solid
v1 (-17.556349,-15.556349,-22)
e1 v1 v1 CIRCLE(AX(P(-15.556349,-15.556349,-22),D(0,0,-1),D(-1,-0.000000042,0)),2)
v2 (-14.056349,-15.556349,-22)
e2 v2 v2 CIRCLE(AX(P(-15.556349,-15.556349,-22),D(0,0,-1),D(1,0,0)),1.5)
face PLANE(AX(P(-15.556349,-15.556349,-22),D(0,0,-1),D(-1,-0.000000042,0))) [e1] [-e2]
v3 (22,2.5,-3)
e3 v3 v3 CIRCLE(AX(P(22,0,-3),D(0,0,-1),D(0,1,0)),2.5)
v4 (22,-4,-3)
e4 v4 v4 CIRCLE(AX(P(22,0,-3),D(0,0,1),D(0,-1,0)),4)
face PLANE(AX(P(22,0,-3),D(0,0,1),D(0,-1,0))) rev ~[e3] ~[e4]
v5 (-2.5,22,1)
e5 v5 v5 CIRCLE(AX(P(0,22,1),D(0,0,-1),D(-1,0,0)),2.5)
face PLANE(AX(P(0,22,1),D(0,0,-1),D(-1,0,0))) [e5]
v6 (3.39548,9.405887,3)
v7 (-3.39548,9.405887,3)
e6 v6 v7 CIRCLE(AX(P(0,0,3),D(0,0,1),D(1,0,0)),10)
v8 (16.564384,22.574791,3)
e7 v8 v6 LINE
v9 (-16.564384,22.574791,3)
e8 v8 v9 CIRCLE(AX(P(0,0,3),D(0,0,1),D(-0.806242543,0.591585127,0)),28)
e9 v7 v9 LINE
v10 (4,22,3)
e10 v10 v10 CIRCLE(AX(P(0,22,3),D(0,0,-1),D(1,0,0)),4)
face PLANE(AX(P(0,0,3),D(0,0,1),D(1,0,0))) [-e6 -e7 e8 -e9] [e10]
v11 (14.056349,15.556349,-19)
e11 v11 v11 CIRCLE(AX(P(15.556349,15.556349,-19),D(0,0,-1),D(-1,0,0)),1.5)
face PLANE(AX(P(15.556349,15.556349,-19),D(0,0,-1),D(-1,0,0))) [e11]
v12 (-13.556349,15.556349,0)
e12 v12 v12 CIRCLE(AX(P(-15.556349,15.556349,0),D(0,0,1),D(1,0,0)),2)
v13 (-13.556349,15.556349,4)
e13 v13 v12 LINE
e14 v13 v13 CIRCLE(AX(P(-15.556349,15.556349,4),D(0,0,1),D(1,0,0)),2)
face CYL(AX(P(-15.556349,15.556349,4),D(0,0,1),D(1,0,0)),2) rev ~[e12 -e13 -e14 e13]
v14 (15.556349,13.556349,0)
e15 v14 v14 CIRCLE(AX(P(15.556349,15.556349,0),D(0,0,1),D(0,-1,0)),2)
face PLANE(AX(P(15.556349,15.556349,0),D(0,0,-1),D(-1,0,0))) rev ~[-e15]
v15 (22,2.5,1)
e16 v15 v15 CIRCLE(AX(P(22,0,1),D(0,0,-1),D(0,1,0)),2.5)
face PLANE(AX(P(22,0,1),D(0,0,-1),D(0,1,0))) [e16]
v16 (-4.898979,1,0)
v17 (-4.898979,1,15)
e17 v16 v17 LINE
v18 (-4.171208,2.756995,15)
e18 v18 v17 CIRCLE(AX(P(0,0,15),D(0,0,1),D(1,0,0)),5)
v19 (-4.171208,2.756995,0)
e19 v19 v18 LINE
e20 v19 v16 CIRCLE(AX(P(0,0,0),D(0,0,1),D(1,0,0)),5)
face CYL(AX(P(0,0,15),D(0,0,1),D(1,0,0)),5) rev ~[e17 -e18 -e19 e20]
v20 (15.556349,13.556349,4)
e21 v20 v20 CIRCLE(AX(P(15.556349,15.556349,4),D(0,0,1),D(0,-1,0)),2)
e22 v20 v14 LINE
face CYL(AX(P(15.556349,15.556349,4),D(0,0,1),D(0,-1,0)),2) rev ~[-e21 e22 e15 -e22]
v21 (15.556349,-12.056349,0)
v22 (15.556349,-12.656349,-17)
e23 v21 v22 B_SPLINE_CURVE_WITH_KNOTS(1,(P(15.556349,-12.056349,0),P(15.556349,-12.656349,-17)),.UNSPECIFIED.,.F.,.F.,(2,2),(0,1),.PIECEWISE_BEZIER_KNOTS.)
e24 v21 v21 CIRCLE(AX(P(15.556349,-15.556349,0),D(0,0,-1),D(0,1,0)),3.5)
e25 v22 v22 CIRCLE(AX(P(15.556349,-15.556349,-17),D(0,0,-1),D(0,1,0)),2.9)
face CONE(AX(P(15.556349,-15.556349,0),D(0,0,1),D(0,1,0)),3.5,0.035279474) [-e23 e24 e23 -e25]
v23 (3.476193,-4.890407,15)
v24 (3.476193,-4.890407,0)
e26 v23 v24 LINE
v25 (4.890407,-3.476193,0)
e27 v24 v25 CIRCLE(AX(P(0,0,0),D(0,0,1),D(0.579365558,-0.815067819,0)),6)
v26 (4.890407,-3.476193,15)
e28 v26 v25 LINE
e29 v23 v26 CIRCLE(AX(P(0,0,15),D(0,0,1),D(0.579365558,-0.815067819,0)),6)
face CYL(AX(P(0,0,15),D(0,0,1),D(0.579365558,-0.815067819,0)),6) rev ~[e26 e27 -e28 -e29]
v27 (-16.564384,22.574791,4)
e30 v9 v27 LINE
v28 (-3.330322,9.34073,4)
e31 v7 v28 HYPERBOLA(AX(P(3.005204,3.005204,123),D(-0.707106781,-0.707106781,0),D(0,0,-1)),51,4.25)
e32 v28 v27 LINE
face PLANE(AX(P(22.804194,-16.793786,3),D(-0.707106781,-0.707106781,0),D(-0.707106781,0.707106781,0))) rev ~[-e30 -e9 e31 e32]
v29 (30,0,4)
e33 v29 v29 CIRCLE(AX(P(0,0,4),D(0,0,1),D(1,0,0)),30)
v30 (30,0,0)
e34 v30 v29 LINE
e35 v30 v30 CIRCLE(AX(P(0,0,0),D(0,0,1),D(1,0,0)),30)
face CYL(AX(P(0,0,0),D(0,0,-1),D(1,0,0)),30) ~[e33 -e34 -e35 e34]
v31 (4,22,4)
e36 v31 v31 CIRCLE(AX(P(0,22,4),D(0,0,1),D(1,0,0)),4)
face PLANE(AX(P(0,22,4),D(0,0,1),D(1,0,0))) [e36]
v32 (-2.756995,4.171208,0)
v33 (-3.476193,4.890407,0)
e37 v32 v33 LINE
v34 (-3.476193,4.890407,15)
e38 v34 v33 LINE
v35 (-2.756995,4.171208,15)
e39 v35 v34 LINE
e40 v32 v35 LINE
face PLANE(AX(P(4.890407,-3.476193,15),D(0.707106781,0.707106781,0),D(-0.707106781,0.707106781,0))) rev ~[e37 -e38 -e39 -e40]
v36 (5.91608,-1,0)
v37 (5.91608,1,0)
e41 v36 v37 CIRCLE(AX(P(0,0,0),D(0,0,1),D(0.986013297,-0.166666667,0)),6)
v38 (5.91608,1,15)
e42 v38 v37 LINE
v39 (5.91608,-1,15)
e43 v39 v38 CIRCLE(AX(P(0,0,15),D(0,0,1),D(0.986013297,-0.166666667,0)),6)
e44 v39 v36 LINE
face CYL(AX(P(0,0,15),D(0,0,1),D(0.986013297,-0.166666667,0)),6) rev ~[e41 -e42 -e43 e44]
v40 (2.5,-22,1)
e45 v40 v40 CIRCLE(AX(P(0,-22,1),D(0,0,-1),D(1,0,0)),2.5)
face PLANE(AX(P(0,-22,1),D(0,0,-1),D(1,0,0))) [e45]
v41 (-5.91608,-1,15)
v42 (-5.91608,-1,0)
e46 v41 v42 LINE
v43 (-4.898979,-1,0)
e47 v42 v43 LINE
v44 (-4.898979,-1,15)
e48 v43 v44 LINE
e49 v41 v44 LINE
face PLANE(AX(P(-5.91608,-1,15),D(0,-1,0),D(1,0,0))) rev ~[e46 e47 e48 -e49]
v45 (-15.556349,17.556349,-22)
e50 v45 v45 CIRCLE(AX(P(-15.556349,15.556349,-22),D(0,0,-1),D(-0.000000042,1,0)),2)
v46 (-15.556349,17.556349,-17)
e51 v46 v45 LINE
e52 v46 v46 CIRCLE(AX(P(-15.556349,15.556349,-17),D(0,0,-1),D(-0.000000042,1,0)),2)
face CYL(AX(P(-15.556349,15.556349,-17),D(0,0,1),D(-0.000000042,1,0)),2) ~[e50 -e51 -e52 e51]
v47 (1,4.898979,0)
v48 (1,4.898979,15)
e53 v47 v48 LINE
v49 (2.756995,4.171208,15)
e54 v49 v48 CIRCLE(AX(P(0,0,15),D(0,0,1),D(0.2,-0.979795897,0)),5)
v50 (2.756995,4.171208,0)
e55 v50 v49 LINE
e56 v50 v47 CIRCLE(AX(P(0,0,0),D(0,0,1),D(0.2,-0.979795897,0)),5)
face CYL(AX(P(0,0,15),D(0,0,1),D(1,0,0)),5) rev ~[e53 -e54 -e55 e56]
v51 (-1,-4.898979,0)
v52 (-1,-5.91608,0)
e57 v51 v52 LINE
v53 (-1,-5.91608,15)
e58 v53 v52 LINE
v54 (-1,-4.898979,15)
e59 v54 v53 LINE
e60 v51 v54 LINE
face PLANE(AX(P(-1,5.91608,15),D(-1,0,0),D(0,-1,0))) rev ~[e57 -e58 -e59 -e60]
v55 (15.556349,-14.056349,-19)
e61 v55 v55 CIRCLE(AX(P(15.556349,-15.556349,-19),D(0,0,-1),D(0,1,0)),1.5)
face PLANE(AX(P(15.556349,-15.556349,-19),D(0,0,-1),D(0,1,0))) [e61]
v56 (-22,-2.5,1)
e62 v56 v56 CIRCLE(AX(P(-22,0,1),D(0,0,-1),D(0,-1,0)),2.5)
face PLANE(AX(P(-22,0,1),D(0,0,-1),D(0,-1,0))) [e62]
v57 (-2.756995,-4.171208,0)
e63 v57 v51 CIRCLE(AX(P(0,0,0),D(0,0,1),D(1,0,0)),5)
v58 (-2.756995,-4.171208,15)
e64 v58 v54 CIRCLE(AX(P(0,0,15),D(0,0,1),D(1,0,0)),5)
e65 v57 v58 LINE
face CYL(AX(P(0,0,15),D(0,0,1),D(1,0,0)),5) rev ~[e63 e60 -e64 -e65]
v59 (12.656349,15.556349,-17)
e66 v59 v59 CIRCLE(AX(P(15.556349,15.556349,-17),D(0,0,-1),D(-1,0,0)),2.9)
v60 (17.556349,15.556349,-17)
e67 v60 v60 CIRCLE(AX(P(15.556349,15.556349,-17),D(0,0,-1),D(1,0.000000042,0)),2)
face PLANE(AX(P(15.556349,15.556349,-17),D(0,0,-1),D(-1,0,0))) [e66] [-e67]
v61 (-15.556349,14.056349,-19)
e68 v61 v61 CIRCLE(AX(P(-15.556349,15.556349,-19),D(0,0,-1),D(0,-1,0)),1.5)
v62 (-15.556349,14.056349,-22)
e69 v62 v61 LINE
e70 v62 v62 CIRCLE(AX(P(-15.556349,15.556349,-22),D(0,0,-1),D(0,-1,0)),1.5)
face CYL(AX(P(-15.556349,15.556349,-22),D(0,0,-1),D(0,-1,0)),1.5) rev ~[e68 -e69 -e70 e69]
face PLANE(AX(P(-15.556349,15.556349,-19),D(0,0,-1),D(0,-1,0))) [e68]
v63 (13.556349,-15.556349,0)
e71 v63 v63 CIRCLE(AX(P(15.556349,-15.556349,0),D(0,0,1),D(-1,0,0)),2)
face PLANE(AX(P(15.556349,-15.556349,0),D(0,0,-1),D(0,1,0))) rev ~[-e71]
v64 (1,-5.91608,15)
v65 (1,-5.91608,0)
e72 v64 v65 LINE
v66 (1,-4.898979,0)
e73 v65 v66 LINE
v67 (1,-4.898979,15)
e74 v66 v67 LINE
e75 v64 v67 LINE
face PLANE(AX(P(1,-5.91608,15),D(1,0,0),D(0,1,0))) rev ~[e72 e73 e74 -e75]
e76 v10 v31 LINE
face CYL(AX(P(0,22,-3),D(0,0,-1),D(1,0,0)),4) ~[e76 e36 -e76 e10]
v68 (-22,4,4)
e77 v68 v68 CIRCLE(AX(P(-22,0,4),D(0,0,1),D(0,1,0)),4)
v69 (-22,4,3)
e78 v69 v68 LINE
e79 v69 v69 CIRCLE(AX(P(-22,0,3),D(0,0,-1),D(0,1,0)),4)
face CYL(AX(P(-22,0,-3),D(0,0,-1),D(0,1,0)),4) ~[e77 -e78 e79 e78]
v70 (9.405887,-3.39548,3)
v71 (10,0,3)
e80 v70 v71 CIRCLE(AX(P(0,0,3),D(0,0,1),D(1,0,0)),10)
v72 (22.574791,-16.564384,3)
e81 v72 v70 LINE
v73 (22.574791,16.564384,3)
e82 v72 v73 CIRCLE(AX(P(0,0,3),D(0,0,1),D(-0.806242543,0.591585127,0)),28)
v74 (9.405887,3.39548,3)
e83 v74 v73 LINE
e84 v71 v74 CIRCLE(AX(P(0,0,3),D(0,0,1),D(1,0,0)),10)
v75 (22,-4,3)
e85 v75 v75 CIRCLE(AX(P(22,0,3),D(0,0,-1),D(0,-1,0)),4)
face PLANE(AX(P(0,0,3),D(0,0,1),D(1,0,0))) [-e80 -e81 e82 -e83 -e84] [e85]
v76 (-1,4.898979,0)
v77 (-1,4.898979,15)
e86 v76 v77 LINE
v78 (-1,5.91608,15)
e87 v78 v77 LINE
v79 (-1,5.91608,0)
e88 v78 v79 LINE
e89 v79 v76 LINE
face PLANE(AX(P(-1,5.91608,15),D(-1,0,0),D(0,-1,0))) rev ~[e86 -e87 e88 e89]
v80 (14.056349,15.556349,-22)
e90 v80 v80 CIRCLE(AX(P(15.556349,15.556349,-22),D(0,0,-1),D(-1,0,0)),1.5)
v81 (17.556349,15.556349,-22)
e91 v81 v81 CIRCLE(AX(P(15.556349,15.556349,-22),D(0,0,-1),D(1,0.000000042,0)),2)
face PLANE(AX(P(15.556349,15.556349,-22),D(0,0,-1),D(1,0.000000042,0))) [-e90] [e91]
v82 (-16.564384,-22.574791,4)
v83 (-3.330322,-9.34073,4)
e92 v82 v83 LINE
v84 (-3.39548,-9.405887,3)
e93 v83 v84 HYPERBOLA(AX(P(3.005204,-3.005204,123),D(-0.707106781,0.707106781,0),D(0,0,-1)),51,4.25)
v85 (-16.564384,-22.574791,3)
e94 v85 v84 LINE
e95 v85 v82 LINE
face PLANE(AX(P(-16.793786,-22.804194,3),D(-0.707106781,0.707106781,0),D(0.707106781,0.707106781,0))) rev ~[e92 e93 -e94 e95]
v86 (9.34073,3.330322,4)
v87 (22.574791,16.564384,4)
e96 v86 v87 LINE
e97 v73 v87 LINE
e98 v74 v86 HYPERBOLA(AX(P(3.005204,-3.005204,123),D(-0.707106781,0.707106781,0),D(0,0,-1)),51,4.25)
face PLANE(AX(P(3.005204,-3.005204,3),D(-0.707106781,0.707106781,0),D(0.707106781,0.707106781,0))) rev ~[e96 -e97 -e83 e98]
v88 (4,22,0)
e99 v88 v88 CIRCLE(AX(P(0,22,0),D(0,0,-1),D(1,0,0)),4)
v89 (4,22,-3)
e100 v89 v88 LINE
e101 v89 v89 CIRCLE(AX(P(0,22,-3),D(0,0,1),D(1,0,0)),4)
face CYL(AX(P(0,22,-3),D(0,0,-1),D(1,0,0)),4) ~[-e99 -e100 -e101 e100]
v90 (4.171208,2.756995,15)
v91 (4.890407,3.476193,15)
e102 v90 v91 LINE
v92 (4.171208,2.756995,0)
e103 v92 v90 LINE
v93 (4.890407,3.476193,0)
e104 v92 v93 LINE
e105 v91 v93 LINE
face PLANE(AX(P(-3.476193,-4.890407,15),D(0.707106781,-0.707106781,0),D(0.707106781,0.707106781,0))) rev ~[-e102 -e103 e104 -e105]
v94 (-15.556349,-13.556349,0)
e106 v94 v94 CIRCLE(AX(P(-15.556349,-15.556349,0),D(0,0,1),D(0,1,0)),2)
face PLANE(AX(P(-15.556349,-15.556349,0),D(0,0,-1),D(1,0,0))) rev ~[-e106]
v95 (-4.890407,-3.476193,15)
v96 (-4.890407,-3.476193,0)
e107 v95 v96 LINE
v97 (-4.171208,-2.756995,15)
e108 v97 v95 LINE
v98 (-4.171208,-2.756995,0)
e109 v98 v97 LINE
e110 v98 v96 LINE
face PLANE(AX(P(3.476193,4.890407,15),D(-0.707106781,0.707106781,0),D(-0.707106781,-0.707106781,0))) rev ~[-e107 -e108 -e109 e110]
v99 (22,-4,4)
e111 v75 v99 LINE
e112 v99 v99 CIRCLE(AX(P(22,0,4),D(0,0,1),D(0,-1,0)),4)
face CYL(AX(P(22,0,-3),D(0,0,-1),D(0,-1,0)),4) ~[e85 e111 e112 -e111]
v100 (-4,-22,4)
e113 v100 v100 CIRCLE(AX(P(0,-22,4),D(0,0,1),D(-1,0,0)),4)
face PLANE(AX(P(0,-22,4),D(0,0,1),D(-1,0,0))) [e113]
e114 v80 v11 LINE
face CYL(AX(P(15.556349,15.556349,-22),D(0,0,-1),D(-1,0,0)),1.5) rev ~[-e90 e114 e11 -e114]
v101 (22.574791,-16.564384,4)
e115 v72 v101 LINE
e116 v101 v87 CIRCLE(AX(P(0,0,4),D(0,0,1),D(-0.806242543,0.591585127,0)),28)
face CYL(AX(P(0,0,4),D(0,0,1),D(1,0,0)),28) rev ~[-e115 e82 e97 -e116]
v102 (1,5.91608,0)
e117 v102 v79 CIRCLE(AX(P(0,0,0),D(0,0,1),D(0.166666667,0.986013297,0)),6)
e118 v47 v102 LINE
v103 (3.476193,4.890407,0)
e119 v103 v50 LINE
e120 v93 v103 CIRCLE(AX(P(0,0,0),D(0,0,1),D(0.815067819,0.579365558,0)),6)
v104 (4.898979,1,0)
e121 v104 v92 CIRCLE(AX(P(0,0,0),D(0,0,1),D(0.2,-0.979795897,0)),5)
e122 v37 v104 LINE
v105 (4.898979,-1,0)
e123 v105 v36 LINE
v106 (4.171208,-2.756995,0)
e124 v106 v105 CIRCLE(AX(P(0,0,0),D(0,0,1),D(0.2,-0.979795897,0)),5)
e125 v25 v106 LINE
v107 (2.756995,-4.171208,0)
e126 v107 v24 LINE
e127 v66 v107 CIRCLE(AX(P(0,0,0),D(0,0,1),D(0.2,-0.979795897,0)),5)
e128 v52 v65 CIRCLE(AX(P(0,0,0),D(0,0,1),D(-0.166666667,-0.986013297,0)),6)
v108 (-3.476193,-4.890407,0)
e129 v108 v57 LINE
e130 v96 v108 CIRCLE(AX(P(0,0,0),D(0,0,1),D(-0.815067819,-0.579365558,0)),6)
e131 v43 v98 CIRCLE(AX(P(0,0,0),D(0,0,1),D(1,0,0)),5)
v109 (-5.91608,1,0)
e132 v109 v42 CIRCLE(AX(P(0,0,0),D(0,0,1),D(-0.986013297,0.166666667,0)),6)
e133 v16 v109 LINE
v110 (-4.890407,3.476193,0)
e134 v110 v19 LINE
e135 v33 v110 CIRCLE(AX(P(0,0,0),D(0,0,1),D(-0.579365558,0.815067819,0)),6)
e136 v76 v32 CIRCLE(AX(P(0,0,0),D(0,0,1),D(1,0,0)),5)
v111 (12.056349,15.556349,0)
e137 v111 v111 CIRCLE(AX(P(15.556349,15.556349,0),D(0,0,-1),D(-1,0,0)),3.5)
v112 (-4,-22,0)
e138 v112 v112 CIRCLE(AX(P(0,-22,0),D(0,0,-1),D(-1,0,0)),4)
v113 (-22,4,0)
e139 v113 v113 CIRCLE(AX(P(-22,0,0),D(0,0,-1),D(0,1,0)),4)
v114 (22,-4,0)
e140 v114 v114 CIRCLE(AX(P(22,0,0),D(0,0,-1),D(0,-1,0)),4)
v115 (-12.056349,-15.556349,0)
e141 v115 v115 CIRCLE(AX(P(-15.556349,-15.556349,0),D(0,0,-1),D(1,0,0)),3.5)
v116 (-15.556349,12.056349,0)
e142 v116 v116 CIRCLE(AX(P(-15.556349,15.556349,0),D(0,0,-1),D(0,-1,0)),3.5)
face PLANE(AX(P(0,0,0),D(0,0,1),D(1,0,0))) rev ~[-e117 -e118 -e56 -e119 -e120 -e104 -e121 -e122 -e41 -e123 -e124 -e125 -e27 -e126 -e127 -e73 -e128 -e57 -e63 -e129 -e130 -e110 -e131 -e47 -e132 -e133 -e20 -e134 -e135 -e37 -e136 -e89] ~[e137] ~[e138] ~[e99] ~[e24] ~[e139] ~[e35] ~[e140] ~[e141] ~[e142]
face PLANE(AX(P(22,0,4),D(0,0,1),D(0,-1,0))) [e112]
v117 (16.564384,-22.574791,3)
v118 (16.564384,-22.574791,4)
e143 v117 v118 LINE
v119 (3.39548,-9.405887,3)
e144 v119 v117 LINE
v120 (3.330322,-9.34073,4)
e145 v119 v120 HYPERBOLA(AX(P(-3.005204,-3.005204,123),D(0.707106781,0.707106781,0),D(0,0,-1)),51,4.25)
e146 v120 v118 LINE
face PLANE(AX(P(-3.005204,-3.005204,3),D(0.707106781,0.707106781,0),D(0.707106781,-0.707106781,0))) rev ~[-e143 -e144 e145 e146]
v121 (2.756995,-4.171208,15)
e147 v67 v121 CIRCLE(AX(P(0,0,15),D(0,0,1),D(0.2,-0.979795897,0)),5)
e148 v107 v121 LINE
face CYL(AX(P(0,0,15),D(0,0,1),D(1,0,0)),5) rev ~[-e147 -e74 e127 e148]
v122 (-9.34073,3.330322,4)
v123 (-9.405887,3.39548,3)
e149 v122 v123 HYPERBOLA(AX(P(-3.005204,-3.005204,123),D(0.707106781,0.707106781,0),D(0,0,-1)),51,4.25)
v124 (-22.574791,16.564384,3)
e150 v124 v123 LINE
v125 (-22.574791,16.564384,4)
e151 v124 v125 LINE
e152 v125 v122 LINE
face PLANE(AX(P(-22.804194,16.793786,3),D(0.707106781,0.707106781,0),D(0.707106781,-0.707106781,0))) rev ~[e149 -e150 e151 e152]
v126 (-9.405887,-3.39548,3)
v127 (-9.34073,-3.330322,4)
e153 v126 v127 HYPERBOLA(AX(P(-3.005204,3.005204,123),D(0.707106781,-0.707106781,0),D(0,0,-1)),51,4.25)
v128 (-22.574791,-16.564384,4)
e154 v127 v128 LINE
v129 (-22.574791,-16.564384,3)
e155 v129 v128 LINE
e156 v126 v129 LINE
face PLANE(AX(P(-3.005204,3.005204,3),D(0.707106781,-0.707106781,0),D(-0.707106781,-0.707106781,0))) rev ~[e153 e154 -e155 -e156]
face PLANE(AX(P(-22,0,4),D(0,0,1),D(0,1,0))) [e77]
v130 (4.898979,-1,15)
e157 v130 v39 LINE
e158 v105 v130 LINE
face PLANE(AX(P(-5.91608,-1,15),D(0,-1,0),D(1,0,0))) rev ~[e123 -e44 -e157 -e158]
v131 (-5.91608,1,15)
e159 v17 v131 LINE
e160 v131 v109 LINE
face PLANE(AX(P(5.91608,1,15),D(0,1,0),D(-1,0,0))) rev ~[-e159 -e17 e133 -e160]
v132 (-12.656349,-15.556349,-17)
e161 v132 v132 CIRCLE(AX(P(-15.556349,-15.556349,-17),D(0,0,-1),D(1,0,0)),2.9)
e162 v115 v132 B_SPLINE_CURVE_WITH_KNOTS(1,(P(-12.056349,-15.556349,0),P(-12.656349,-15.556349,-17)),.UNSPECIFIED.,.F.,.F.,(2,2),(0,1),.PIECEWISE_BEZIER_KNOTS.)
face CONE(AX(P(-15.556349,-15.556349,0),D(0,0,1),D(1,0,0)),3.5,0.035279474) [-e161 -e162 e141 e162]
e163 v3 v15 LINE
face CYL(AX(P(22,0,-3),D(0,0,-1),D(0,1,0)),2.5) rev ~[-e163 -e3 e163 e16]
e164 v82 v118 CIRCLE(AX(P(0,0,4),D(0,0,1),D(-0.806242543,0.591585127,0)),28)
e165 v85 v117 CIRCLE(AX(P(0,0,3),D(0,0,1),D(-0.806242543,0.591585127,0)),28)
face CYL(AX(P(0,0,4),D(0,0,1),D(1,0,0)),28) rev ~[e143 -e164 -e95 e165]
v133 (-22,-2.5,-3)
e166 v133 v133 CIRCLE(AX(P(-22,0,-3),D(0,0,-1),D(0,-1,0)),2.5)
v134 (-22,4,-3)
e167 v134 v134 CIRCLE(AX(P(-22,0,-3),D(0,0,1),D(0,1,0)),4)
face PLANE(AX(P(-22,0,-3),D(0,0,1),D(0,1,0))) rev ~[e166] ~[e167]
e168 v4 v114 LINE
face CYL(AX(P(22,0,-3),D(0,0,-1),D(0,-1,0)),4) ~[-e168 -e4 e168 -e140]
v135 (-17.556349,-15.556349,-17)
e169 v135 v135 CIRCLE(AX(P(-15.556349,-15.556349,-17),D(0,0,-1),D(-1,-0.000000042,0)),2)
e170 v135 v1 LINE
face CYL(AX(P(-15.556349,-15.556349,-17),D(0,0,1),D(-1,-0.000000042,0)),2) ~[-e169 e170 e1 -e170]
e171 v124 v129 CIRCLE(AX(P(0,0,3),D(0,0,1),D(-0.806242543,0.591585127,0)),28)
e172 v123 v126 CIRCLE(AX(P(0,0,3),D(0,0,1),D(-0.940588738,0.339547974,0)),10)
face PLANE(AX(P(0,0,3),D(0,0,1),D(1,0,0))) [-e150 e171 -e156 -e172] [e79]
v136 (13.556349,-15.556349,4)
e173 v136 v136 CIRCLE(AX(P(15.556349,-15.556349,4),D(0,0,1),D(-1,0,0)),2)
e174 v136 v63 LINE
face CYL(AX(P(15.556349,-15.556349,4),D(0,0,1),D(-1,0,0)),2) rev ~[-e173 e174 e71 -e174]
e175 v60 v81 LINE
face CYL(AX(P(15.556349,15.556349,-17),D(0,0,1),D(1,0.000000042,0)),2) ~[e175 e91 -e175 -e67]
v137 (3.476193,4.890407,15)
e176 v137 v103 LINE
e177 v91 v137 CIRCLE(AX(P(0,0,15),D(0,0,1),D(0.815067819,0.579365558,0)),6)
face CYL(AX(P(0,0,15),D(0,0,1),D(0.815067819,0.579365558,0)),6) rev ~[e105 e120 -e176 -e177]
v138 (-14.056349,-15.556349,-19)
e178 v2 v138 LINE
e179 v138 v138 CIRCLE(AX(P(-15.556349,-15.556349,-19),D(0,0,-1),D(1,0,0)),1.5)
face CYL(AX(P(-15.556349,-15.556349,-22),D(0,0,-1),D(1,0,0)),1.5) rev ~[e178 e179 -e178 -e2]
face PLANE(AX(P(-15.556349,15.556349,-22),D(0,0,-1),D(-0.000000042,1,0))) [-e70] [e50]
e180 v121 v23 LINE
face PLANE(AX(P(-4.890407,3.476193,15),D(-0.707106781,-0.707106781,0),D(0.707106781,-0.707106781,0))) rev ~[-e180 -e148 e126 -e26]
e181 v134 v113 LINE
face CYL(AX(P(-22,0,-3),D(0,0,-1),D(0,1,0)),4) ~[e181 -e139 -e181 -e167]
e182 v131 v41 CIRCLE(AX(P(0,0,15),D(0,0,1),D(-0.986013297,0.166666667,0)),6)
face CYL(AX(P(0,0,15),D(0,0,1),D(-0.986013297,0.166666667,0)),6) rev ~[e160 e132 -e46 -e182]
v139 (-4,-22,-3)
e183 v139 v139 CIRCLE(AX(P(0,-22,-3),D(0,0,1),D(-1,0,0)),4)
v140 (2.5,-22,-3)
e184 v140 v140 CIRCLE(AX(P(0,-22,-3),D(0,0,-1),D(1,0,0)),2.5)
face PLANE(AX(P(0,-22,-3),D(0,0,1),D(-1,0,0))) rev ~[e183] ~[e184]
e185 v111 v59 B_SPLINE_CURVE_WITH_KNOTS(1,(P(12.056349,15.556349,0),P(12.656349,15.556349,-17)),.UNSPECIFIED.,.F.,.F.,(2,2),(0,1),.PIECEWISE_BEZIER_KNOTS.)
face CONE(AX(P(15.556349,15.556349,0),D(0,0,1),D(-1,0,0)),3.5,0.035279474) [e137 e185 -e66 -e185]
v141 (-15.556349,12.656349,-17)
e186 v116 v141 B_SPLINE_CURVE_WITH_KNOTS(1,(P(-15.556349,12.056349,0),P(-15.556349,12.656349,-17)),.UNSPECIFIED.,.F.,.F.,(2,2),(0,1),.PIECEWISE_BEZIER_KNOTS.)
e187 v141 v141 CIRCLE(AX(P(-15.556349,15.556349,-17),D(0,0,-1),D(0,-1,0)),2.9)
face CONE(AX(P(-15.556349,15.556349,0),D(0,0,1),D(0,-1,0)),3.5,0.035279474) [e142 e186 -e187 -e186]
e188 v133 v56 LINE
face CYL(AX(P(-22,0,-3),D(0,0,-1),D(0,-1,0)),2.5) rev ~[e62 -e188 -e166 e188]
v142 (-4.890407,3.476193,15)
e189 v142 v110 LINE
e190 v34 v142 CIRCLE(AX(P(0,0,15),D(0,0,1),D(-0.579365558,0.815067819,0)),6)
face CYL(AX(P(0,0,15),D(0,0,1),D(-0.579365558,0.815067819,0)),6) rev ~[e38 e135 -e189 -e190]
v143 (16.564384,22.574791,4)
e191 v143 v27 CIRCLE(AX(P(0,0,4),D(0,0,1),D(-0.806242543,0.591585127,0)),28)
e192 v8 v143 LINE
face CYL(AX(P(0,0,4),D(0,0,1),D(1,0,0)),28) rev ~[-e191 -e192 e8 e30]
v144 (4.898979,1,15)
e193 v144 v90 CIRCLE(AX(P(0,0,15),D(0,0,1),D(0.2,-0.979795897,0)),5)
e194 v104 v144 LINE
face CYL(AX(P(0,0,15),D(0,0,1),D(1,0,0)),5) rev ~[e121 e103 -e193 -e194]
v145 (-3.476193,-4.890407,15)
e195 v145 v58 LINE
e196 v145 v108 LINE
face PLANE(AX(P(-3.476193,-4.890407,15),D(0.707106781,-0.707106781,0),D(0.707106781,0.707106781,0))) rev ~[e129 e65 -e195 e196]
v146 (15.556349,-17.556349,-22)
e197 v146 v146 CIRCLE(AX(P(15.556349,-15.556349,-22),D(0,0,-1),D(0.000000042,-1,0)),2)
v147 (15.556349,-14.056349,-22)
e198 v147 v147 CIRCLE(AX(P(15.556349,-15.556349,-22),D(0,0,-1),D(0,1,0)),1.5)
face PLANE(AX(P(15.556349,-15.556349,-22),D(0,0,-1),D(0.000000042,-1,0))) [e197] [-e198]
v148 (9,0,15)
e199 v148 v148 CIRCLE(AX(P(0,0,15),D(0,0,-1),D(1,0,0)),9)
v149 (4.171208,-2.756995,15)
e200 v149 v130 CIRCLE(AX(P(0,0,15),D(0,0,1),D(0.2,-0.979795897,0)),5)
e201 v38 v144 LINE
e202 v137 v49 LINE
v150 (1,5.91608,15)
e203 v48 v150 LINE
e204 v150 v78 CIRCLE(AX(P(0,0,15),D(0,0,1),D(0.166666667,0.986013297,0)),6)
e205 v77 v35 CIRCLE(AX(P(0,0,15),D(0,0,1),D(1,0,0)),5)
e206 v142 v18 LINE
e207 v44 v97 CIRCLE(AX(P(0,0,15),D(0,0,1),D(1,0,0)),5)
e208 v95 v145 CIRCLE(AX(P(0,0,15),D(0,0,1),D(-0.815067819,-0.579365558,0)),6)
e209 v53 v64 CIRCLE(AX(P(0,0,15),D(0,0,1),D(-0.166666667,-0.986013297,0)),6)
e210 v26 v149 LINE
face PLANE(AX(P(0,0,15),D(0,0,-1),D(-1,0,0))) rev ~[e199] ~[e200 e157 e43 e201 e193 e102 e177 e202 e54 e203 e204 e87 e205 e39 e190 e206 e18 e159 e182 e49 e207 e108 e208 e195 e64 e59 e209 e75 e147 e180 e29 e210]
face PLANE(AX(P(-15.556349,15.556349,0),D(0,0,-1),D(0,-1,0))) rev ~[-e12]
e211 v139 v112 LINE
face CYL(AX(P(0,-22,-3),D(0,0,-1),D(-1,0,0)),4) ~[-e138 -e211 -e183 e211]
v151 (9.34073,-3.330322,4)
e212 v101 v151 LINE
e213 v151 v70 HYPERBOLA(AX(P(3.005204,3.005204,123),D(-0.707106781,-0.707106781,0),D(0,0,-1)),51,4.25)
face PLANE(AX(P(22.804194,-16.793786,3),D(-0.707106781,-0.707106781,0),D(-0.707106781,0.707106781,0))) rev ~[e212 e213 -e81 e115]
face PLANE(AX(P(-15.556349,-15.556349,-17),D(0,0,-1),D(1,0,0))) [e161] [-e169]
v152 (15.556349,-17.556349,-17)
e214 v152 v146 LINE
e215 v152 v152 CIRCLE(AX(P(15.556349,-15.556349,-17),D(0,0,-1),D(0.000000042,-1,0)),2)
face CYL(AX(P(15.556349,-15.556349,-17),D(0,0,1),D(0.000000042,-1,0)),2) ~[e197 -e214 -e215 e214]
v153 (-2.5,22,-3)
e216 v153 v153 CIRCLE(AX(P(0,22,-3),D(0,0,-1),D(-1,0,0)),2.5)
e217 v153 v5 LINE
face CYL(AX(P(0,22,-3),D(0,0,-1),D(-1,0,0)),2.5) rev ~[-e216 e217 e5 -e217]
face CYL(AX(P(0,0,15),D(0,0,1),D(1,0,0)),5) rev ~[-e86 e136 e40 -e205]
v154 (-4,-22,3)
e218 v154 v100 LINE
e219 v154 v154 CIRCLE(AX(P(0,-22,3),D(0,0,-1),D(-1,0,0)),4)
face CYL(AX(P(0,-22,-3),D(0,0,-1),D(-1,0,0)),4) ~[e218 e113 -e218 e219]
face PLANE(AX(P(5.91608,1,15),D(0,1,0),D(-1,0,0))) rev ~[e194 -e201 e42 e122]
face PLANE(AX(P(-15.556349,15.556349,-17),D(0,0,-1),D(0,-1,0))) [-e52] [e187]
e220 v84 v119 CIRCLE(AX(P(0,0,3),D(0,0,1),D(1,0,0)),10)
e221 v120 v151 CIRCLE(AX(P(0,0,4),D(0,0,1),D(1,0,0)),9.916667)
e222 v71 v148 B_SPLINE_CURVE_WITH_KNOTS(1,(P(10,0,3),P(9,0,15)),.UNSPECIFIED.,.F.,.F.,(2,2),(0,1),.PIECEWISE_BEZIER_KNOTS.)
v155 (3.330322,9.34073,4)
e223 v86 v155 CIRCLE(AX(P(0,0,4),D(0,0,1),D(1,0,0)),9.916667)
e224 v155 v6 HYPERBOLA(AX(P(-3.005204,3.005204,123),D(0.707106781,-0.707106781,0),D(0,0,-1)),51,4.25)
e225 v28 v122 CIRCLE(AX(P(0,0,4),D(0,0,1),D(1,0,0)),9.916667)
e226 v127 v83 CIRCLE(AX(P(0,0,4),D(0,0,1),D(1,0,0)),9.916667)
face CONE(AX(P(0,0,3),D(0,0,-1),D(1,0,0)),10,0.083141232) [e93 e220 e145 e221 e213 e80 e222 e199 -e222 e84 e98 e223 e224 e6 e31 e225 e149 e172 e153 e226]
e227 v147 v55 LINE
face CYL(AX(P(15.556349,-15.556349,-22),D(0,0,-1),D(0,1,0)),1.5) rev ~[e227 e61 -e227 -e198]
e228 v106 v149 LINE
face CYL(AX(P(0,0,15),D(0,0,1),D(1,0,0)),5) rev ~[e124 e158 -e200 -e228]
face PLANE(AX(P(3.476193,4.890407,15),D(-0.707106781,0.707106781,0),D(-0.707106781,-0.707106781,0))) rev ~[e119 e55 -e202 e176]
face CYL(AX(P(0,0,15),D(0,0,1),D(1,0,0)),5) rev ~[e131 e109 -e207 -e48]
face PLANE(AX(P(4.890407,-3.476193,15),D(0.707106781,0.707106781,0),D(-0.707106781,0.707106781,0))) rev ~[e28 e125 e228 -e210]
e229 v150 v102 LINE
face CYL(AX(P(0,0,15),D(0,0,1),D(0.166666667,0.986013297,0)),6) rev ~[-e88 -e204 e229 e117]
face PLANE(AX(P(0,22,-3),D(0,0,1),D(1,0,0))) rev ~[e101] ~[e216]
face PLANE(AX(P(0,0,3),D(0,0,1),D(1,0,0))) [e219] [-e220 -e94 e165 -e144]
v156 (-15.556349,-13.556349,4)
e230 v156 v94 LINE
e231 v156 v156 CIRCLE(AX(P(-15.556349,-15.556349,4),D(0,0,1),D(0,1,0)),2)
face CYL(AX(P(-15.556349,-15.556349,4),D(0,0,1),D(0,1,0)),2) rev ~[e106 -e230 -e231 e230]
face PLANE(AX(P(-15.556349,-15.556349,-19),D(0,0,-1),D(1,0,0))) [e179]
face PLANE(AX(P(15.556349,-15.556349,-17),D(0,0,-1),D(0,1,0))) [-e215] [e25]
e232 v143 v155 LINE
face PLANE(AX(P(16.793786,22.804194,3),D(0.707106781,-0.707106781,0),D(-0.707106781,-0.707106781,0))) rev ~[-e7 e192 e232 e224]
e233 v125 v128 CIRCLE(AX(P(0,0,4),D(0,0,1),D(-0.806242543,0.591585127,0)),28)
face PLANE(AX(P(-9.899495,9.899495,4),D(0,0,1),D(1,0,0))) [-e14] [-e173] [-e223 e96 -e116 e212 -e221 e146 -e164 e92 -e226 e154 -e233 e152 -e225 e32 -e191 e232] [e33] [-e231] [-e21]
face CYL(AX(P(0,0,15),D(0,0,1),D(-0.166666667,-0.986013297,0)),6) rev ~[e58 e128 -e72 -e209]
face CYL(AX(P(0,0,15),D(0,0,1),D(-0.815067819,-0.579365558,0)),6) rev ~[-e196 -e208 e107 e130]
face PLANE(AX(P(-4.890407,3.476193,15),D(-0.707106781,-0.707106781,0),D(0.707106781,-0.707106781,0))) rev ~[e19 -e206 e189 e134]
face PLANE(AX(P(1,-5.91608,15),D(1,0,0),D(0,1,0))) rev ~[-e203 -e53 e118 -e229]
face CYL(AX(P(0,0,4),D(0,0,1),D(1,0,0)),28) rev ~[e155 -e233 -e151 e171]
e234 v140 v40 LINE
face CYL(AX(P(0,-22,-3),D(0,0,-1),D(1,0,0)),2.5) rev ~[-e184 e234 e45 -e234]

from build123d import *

# Parameters (mm, degrees)
SKETCH_1_R               = 30
EXTRUDE_1_DEPTH          = 4
SKETCH_2_R               = 28
CUT_EXTRUDE_1_DEPTH      = 1
EXTRUDE_1_2_DEPTH        = 1
PATTERN_CIRCULAR_1_COUNT = 4
SKETCH_4_R               = 10
SKETCH_5_R               = 9
EXTRUDE_START            = -6
SKETCH_6_R               = 4
EXTRUDE_2_DEPTH          = 7
SKETCH_8_R               = 2.5
CUT_EXTRUDE_2_DEPTH      = 4
PATTERN_CIRCULAR_2_COUNT = 4
SKETCH_9_R               = 2
CUT_EXTRUDE_3_DEPTH      = 44.829214027
PATTERN_CIRCULAR_3_COUNT = 4
SKETCH_10_R              = 5
CUT_EXTRUDE_4_DEPTH      = 47.086874487
CUT_EXTRUDE_5_DEPTH      = 47.086874487
PATTERN_CIRCULAR_4_COUNT = 8
SKETCH_12_R              = 3.5
SKETCH_13_R              = 2.9
SKETCH_14_R              = 2
EXTRUDE_3_DEPTH          = 5
SKETCH_15_R              = 1.5
CUT_EXTRUDE_6_DEPTH      = 3
PATTERN_CIRCULAR_5_COUNT = 4


with BuildPart() as part:
    # 草图1 → Extrude 1 (new body)
    with BuildSketch(Plane.XY):
        Circle(SKETCH_1_R)
    extrude(amount=EXTRUDE_1_DEPTH)

    # 草图2 → 切除-拉伸1 (cut)
    with BuildSketch(Plane.XY.offset(4)):
        Circle(SKETCH_2_R)
    extrude(amount=-CUT_EXTRUDE_1_DEPTH, mode=Mode.SUBTRACT)

    # 草图3 → Extrude 1 2 (add)
    with BuildSketch(Plane.XY.offset(3)):
        Polygon((3.00520382, 3.00520382), (-16.793786053, 22.804193693), (-22.804193693, 16.793786053), (-3.00520382, -3.00520382), align=None)
    extrude_1_2 = extrude(amount=EXTRUDE_1_2_DEPTH)

    # 阵列(圆周)1: Extrude 1 2 ×4 about axis
    pattern_circular_1_axis = Axis((0, 0, 0), (0, 0, 1))
    for i in range(1, PATTERN_CIRCULAR_1_COUNT):
        add(extrude_1_2.rotate(pattern_circular_1_axis, i * 360 / PATTERN_CIRCULAR_1_COUNT))

    # 草图4 → 放样1 section 0
    with BuildSketch(Plane.XY.offset(3)):
        Circle(SKETCH_4_R)
    # 草图5 → 放样1 section 1
    with BuildSketch(Plane(origin=(0, 0, 15), x_dir=(-1, 0, 0), z_dir=(0, 0, -1))):
        Circle(SKETCH_5_R)
    loft()

    # 草图6 → 凸台-拉伸2 (add)
    with BuildSketch(Plane.XY.offset(3).offset(EXTRUDE_START)):
        with Locations((0, 22)):
            Circle(SKETCH_6_R)
    extrude_2 = extrude(amount=EXTRUDE_2_DEPTH)

    # 草图8 → 切除-拉伸2 (cut)
    with BuildSketch(Plane(origin=(0, 0, -3), x_dir=(-1, 0, 0), z_dir=(0, 0, -1))):
        with Locations((0, 22)):
            Circle(SKETCH_8_R)
    cut_extrude_2 = extrude(amount=-CUT_EXTRUDE_2_DEPTH, mode=Mode.SUBTRACT)

    # 阵列(圆周)2: 凸台-拉伸2, 切除-拉伸2 ×4 about axis
    pattern_circular_2_axis = Axis((0, 0, 0), (0, 0, 1))
    add([extrude_2.rotate(pattern_circular_2_axis, i * 360 / PATTERN_CIRCULAR_2_COUNT) for i in range(1, PATTERN_CIRCULAR_2_COUNT)])
    add([cut_extrude_2.rotate(pattern_circular_2_axis, i * 360 / PATTERN_CIRCULAR_2_COUNT) for i in range(1, PATTERN_CIRCULAR_2_COUNT)], mode=Mode.SUBTRACT)

    # 草图9 → 切除-拉伸3 (cut, through all)
    with BuildSketch(Plane.XY.offset(4)):
        with Locations((-15.556349269, 15.556349103)):
            Circle(SKETCH_9_R)
    cut_extrude_3 = extrude(amount=-CUT_EXTRUDE_3_DEPTH, mode=Mode.SUBTRACT)

    # 阵列(圆周)3: 切除-拉伸3 ×4 about axis
    pattern_circular_3_axis = Axis((0, 0, 0), (0, 0, 1))
    for i in range(1, PATTERN_CIRCULAR_3_COUNT):
        add(cut_extrude_3.rotate(pattern_circular_3_axis, i * 360 / PATTERN_CIRCULAR_3_COUNT), mode=Mode.SUBTRACT)

    # 草图10 → 切除-拉伸4 (cut, through all)
    with BuildSketch(Plane.XY.offset(15)):
        Circle(SKETCH_10_R)
    extrude(amount=-CUT_EXTRUDE_4_DEPTH, mode=Mode.SUBTRACT)

    # 草图11 → 切除-拉伸5 (cut, through all)
    with BuildSketch(Plane.XY.offset(15)):
        with BuildLine():
            Line((1, -5.916079783), (1, 5.916079783))
            ThreePointArc((1, 5.916079783), (0, 6), (-1, 5.916079783))
            Line((-1, 5.916079783), (-1, -5.916079783))
            ThreePointArc((-1, -5.916079783), (0, -6), (1, -5.916079783))
        make_face()
    cut_extrude_5 = extrude(amount=-CUT_EXTRUDE_5_DEPTH, mode=Mode.SUBTRACT)

    # 阵列(圆周)4: 切除-拉伸5 ×8 about axis
    pattern_circular_4_axis = Axis((0, 0, 0), (0, 0, 1))
    for i in range(1, PATTERN_CIRCULAR_4_COUNT):
        add(cut_extrude_5.rotate(pattern_circular_4_axis, i * 360 / PATTERN_CIRCULAR_4_COUNT), mode=Mode.SUBTRACT)

    # 草图12 → 放样2 section 0
    with BuildSketch(Plane(origin=(0, 0, 0), x_dir=(-1, 0, 0), z_dir=(0, 0, -1))):
        with Locations((-15.556349186, 15.556349186)):
            Circle(SKETCH_12_R)
    # 草图13 → 放样2 section 1
    with BuildSketch(Plane(origin=(0, 0, -17), x_dir=(-1, 0, 0), z_dir=(0, 0, -1))):
        with Locations((-15.556349186, 15.556349186)):
            Circle(SKETCH_13_R)
    loft_2 = loft()

    # 草图14 → 凸台-拉伸3 (add)
    with BuildSketch(Plane(origin=(0, 0, -17), x_dir=(-1, 0, 0), z_dir=(0, 0, -1))):
        with Locations(Location((-15.556349186, 15.556349186, 0), (0, 0, 179.999997613))):
            Circle(SKETCH_14_R)
    extrude_3 = extrude(amount=EXTRUDE_3_DEPTH)

    # 草图15 → 切除-拉伸6 (cut)
    with BuildSketch(Plane(origin=(0, 0, -22), x_dir=(-1, 0, 0), z_dir=(0, 0, -1))):
        with Locations((-15.556349186, 15.556349186)):
            Circle(SKETCH_15_R)
    cut_extrude_6 = extrude(amount=-CUT_EXTRUDE_6_DEPTH, mode=Mode.SUBTRACT)

    # 阵列(圆周)5: 放样2, 凸台-拉伸3, 切除-拉伸6 ×4 about axis
    pattern_circular_5_axis = Axis((0, 0, 0), (0, 0, 1))
    add([loft_2.rotate(pattern_circular_5_axis, i * 360 / PATTERN_CIRCULAR_5_COUNT) for i in range(1, PATTERN_CIRCULAR_5_COUNT)])
    add([extrude_3.rotate(pattern_circular_5_axis, i * 360 / PATTERN_CIRCULAR_5_COUNT) for i in range(1, PATTERN_CIRCULAR_5_COUNT)])
    add([cut_extrude_6.rotate(pattern_circular_5_axis, i * 360 / PATTERN_CIRCULAR_5_COUNT) for i in range(1, PATTERN_CIRCULAR_5_COUNT)], mode=Mode.SUBTRACT)


solid = part.part
